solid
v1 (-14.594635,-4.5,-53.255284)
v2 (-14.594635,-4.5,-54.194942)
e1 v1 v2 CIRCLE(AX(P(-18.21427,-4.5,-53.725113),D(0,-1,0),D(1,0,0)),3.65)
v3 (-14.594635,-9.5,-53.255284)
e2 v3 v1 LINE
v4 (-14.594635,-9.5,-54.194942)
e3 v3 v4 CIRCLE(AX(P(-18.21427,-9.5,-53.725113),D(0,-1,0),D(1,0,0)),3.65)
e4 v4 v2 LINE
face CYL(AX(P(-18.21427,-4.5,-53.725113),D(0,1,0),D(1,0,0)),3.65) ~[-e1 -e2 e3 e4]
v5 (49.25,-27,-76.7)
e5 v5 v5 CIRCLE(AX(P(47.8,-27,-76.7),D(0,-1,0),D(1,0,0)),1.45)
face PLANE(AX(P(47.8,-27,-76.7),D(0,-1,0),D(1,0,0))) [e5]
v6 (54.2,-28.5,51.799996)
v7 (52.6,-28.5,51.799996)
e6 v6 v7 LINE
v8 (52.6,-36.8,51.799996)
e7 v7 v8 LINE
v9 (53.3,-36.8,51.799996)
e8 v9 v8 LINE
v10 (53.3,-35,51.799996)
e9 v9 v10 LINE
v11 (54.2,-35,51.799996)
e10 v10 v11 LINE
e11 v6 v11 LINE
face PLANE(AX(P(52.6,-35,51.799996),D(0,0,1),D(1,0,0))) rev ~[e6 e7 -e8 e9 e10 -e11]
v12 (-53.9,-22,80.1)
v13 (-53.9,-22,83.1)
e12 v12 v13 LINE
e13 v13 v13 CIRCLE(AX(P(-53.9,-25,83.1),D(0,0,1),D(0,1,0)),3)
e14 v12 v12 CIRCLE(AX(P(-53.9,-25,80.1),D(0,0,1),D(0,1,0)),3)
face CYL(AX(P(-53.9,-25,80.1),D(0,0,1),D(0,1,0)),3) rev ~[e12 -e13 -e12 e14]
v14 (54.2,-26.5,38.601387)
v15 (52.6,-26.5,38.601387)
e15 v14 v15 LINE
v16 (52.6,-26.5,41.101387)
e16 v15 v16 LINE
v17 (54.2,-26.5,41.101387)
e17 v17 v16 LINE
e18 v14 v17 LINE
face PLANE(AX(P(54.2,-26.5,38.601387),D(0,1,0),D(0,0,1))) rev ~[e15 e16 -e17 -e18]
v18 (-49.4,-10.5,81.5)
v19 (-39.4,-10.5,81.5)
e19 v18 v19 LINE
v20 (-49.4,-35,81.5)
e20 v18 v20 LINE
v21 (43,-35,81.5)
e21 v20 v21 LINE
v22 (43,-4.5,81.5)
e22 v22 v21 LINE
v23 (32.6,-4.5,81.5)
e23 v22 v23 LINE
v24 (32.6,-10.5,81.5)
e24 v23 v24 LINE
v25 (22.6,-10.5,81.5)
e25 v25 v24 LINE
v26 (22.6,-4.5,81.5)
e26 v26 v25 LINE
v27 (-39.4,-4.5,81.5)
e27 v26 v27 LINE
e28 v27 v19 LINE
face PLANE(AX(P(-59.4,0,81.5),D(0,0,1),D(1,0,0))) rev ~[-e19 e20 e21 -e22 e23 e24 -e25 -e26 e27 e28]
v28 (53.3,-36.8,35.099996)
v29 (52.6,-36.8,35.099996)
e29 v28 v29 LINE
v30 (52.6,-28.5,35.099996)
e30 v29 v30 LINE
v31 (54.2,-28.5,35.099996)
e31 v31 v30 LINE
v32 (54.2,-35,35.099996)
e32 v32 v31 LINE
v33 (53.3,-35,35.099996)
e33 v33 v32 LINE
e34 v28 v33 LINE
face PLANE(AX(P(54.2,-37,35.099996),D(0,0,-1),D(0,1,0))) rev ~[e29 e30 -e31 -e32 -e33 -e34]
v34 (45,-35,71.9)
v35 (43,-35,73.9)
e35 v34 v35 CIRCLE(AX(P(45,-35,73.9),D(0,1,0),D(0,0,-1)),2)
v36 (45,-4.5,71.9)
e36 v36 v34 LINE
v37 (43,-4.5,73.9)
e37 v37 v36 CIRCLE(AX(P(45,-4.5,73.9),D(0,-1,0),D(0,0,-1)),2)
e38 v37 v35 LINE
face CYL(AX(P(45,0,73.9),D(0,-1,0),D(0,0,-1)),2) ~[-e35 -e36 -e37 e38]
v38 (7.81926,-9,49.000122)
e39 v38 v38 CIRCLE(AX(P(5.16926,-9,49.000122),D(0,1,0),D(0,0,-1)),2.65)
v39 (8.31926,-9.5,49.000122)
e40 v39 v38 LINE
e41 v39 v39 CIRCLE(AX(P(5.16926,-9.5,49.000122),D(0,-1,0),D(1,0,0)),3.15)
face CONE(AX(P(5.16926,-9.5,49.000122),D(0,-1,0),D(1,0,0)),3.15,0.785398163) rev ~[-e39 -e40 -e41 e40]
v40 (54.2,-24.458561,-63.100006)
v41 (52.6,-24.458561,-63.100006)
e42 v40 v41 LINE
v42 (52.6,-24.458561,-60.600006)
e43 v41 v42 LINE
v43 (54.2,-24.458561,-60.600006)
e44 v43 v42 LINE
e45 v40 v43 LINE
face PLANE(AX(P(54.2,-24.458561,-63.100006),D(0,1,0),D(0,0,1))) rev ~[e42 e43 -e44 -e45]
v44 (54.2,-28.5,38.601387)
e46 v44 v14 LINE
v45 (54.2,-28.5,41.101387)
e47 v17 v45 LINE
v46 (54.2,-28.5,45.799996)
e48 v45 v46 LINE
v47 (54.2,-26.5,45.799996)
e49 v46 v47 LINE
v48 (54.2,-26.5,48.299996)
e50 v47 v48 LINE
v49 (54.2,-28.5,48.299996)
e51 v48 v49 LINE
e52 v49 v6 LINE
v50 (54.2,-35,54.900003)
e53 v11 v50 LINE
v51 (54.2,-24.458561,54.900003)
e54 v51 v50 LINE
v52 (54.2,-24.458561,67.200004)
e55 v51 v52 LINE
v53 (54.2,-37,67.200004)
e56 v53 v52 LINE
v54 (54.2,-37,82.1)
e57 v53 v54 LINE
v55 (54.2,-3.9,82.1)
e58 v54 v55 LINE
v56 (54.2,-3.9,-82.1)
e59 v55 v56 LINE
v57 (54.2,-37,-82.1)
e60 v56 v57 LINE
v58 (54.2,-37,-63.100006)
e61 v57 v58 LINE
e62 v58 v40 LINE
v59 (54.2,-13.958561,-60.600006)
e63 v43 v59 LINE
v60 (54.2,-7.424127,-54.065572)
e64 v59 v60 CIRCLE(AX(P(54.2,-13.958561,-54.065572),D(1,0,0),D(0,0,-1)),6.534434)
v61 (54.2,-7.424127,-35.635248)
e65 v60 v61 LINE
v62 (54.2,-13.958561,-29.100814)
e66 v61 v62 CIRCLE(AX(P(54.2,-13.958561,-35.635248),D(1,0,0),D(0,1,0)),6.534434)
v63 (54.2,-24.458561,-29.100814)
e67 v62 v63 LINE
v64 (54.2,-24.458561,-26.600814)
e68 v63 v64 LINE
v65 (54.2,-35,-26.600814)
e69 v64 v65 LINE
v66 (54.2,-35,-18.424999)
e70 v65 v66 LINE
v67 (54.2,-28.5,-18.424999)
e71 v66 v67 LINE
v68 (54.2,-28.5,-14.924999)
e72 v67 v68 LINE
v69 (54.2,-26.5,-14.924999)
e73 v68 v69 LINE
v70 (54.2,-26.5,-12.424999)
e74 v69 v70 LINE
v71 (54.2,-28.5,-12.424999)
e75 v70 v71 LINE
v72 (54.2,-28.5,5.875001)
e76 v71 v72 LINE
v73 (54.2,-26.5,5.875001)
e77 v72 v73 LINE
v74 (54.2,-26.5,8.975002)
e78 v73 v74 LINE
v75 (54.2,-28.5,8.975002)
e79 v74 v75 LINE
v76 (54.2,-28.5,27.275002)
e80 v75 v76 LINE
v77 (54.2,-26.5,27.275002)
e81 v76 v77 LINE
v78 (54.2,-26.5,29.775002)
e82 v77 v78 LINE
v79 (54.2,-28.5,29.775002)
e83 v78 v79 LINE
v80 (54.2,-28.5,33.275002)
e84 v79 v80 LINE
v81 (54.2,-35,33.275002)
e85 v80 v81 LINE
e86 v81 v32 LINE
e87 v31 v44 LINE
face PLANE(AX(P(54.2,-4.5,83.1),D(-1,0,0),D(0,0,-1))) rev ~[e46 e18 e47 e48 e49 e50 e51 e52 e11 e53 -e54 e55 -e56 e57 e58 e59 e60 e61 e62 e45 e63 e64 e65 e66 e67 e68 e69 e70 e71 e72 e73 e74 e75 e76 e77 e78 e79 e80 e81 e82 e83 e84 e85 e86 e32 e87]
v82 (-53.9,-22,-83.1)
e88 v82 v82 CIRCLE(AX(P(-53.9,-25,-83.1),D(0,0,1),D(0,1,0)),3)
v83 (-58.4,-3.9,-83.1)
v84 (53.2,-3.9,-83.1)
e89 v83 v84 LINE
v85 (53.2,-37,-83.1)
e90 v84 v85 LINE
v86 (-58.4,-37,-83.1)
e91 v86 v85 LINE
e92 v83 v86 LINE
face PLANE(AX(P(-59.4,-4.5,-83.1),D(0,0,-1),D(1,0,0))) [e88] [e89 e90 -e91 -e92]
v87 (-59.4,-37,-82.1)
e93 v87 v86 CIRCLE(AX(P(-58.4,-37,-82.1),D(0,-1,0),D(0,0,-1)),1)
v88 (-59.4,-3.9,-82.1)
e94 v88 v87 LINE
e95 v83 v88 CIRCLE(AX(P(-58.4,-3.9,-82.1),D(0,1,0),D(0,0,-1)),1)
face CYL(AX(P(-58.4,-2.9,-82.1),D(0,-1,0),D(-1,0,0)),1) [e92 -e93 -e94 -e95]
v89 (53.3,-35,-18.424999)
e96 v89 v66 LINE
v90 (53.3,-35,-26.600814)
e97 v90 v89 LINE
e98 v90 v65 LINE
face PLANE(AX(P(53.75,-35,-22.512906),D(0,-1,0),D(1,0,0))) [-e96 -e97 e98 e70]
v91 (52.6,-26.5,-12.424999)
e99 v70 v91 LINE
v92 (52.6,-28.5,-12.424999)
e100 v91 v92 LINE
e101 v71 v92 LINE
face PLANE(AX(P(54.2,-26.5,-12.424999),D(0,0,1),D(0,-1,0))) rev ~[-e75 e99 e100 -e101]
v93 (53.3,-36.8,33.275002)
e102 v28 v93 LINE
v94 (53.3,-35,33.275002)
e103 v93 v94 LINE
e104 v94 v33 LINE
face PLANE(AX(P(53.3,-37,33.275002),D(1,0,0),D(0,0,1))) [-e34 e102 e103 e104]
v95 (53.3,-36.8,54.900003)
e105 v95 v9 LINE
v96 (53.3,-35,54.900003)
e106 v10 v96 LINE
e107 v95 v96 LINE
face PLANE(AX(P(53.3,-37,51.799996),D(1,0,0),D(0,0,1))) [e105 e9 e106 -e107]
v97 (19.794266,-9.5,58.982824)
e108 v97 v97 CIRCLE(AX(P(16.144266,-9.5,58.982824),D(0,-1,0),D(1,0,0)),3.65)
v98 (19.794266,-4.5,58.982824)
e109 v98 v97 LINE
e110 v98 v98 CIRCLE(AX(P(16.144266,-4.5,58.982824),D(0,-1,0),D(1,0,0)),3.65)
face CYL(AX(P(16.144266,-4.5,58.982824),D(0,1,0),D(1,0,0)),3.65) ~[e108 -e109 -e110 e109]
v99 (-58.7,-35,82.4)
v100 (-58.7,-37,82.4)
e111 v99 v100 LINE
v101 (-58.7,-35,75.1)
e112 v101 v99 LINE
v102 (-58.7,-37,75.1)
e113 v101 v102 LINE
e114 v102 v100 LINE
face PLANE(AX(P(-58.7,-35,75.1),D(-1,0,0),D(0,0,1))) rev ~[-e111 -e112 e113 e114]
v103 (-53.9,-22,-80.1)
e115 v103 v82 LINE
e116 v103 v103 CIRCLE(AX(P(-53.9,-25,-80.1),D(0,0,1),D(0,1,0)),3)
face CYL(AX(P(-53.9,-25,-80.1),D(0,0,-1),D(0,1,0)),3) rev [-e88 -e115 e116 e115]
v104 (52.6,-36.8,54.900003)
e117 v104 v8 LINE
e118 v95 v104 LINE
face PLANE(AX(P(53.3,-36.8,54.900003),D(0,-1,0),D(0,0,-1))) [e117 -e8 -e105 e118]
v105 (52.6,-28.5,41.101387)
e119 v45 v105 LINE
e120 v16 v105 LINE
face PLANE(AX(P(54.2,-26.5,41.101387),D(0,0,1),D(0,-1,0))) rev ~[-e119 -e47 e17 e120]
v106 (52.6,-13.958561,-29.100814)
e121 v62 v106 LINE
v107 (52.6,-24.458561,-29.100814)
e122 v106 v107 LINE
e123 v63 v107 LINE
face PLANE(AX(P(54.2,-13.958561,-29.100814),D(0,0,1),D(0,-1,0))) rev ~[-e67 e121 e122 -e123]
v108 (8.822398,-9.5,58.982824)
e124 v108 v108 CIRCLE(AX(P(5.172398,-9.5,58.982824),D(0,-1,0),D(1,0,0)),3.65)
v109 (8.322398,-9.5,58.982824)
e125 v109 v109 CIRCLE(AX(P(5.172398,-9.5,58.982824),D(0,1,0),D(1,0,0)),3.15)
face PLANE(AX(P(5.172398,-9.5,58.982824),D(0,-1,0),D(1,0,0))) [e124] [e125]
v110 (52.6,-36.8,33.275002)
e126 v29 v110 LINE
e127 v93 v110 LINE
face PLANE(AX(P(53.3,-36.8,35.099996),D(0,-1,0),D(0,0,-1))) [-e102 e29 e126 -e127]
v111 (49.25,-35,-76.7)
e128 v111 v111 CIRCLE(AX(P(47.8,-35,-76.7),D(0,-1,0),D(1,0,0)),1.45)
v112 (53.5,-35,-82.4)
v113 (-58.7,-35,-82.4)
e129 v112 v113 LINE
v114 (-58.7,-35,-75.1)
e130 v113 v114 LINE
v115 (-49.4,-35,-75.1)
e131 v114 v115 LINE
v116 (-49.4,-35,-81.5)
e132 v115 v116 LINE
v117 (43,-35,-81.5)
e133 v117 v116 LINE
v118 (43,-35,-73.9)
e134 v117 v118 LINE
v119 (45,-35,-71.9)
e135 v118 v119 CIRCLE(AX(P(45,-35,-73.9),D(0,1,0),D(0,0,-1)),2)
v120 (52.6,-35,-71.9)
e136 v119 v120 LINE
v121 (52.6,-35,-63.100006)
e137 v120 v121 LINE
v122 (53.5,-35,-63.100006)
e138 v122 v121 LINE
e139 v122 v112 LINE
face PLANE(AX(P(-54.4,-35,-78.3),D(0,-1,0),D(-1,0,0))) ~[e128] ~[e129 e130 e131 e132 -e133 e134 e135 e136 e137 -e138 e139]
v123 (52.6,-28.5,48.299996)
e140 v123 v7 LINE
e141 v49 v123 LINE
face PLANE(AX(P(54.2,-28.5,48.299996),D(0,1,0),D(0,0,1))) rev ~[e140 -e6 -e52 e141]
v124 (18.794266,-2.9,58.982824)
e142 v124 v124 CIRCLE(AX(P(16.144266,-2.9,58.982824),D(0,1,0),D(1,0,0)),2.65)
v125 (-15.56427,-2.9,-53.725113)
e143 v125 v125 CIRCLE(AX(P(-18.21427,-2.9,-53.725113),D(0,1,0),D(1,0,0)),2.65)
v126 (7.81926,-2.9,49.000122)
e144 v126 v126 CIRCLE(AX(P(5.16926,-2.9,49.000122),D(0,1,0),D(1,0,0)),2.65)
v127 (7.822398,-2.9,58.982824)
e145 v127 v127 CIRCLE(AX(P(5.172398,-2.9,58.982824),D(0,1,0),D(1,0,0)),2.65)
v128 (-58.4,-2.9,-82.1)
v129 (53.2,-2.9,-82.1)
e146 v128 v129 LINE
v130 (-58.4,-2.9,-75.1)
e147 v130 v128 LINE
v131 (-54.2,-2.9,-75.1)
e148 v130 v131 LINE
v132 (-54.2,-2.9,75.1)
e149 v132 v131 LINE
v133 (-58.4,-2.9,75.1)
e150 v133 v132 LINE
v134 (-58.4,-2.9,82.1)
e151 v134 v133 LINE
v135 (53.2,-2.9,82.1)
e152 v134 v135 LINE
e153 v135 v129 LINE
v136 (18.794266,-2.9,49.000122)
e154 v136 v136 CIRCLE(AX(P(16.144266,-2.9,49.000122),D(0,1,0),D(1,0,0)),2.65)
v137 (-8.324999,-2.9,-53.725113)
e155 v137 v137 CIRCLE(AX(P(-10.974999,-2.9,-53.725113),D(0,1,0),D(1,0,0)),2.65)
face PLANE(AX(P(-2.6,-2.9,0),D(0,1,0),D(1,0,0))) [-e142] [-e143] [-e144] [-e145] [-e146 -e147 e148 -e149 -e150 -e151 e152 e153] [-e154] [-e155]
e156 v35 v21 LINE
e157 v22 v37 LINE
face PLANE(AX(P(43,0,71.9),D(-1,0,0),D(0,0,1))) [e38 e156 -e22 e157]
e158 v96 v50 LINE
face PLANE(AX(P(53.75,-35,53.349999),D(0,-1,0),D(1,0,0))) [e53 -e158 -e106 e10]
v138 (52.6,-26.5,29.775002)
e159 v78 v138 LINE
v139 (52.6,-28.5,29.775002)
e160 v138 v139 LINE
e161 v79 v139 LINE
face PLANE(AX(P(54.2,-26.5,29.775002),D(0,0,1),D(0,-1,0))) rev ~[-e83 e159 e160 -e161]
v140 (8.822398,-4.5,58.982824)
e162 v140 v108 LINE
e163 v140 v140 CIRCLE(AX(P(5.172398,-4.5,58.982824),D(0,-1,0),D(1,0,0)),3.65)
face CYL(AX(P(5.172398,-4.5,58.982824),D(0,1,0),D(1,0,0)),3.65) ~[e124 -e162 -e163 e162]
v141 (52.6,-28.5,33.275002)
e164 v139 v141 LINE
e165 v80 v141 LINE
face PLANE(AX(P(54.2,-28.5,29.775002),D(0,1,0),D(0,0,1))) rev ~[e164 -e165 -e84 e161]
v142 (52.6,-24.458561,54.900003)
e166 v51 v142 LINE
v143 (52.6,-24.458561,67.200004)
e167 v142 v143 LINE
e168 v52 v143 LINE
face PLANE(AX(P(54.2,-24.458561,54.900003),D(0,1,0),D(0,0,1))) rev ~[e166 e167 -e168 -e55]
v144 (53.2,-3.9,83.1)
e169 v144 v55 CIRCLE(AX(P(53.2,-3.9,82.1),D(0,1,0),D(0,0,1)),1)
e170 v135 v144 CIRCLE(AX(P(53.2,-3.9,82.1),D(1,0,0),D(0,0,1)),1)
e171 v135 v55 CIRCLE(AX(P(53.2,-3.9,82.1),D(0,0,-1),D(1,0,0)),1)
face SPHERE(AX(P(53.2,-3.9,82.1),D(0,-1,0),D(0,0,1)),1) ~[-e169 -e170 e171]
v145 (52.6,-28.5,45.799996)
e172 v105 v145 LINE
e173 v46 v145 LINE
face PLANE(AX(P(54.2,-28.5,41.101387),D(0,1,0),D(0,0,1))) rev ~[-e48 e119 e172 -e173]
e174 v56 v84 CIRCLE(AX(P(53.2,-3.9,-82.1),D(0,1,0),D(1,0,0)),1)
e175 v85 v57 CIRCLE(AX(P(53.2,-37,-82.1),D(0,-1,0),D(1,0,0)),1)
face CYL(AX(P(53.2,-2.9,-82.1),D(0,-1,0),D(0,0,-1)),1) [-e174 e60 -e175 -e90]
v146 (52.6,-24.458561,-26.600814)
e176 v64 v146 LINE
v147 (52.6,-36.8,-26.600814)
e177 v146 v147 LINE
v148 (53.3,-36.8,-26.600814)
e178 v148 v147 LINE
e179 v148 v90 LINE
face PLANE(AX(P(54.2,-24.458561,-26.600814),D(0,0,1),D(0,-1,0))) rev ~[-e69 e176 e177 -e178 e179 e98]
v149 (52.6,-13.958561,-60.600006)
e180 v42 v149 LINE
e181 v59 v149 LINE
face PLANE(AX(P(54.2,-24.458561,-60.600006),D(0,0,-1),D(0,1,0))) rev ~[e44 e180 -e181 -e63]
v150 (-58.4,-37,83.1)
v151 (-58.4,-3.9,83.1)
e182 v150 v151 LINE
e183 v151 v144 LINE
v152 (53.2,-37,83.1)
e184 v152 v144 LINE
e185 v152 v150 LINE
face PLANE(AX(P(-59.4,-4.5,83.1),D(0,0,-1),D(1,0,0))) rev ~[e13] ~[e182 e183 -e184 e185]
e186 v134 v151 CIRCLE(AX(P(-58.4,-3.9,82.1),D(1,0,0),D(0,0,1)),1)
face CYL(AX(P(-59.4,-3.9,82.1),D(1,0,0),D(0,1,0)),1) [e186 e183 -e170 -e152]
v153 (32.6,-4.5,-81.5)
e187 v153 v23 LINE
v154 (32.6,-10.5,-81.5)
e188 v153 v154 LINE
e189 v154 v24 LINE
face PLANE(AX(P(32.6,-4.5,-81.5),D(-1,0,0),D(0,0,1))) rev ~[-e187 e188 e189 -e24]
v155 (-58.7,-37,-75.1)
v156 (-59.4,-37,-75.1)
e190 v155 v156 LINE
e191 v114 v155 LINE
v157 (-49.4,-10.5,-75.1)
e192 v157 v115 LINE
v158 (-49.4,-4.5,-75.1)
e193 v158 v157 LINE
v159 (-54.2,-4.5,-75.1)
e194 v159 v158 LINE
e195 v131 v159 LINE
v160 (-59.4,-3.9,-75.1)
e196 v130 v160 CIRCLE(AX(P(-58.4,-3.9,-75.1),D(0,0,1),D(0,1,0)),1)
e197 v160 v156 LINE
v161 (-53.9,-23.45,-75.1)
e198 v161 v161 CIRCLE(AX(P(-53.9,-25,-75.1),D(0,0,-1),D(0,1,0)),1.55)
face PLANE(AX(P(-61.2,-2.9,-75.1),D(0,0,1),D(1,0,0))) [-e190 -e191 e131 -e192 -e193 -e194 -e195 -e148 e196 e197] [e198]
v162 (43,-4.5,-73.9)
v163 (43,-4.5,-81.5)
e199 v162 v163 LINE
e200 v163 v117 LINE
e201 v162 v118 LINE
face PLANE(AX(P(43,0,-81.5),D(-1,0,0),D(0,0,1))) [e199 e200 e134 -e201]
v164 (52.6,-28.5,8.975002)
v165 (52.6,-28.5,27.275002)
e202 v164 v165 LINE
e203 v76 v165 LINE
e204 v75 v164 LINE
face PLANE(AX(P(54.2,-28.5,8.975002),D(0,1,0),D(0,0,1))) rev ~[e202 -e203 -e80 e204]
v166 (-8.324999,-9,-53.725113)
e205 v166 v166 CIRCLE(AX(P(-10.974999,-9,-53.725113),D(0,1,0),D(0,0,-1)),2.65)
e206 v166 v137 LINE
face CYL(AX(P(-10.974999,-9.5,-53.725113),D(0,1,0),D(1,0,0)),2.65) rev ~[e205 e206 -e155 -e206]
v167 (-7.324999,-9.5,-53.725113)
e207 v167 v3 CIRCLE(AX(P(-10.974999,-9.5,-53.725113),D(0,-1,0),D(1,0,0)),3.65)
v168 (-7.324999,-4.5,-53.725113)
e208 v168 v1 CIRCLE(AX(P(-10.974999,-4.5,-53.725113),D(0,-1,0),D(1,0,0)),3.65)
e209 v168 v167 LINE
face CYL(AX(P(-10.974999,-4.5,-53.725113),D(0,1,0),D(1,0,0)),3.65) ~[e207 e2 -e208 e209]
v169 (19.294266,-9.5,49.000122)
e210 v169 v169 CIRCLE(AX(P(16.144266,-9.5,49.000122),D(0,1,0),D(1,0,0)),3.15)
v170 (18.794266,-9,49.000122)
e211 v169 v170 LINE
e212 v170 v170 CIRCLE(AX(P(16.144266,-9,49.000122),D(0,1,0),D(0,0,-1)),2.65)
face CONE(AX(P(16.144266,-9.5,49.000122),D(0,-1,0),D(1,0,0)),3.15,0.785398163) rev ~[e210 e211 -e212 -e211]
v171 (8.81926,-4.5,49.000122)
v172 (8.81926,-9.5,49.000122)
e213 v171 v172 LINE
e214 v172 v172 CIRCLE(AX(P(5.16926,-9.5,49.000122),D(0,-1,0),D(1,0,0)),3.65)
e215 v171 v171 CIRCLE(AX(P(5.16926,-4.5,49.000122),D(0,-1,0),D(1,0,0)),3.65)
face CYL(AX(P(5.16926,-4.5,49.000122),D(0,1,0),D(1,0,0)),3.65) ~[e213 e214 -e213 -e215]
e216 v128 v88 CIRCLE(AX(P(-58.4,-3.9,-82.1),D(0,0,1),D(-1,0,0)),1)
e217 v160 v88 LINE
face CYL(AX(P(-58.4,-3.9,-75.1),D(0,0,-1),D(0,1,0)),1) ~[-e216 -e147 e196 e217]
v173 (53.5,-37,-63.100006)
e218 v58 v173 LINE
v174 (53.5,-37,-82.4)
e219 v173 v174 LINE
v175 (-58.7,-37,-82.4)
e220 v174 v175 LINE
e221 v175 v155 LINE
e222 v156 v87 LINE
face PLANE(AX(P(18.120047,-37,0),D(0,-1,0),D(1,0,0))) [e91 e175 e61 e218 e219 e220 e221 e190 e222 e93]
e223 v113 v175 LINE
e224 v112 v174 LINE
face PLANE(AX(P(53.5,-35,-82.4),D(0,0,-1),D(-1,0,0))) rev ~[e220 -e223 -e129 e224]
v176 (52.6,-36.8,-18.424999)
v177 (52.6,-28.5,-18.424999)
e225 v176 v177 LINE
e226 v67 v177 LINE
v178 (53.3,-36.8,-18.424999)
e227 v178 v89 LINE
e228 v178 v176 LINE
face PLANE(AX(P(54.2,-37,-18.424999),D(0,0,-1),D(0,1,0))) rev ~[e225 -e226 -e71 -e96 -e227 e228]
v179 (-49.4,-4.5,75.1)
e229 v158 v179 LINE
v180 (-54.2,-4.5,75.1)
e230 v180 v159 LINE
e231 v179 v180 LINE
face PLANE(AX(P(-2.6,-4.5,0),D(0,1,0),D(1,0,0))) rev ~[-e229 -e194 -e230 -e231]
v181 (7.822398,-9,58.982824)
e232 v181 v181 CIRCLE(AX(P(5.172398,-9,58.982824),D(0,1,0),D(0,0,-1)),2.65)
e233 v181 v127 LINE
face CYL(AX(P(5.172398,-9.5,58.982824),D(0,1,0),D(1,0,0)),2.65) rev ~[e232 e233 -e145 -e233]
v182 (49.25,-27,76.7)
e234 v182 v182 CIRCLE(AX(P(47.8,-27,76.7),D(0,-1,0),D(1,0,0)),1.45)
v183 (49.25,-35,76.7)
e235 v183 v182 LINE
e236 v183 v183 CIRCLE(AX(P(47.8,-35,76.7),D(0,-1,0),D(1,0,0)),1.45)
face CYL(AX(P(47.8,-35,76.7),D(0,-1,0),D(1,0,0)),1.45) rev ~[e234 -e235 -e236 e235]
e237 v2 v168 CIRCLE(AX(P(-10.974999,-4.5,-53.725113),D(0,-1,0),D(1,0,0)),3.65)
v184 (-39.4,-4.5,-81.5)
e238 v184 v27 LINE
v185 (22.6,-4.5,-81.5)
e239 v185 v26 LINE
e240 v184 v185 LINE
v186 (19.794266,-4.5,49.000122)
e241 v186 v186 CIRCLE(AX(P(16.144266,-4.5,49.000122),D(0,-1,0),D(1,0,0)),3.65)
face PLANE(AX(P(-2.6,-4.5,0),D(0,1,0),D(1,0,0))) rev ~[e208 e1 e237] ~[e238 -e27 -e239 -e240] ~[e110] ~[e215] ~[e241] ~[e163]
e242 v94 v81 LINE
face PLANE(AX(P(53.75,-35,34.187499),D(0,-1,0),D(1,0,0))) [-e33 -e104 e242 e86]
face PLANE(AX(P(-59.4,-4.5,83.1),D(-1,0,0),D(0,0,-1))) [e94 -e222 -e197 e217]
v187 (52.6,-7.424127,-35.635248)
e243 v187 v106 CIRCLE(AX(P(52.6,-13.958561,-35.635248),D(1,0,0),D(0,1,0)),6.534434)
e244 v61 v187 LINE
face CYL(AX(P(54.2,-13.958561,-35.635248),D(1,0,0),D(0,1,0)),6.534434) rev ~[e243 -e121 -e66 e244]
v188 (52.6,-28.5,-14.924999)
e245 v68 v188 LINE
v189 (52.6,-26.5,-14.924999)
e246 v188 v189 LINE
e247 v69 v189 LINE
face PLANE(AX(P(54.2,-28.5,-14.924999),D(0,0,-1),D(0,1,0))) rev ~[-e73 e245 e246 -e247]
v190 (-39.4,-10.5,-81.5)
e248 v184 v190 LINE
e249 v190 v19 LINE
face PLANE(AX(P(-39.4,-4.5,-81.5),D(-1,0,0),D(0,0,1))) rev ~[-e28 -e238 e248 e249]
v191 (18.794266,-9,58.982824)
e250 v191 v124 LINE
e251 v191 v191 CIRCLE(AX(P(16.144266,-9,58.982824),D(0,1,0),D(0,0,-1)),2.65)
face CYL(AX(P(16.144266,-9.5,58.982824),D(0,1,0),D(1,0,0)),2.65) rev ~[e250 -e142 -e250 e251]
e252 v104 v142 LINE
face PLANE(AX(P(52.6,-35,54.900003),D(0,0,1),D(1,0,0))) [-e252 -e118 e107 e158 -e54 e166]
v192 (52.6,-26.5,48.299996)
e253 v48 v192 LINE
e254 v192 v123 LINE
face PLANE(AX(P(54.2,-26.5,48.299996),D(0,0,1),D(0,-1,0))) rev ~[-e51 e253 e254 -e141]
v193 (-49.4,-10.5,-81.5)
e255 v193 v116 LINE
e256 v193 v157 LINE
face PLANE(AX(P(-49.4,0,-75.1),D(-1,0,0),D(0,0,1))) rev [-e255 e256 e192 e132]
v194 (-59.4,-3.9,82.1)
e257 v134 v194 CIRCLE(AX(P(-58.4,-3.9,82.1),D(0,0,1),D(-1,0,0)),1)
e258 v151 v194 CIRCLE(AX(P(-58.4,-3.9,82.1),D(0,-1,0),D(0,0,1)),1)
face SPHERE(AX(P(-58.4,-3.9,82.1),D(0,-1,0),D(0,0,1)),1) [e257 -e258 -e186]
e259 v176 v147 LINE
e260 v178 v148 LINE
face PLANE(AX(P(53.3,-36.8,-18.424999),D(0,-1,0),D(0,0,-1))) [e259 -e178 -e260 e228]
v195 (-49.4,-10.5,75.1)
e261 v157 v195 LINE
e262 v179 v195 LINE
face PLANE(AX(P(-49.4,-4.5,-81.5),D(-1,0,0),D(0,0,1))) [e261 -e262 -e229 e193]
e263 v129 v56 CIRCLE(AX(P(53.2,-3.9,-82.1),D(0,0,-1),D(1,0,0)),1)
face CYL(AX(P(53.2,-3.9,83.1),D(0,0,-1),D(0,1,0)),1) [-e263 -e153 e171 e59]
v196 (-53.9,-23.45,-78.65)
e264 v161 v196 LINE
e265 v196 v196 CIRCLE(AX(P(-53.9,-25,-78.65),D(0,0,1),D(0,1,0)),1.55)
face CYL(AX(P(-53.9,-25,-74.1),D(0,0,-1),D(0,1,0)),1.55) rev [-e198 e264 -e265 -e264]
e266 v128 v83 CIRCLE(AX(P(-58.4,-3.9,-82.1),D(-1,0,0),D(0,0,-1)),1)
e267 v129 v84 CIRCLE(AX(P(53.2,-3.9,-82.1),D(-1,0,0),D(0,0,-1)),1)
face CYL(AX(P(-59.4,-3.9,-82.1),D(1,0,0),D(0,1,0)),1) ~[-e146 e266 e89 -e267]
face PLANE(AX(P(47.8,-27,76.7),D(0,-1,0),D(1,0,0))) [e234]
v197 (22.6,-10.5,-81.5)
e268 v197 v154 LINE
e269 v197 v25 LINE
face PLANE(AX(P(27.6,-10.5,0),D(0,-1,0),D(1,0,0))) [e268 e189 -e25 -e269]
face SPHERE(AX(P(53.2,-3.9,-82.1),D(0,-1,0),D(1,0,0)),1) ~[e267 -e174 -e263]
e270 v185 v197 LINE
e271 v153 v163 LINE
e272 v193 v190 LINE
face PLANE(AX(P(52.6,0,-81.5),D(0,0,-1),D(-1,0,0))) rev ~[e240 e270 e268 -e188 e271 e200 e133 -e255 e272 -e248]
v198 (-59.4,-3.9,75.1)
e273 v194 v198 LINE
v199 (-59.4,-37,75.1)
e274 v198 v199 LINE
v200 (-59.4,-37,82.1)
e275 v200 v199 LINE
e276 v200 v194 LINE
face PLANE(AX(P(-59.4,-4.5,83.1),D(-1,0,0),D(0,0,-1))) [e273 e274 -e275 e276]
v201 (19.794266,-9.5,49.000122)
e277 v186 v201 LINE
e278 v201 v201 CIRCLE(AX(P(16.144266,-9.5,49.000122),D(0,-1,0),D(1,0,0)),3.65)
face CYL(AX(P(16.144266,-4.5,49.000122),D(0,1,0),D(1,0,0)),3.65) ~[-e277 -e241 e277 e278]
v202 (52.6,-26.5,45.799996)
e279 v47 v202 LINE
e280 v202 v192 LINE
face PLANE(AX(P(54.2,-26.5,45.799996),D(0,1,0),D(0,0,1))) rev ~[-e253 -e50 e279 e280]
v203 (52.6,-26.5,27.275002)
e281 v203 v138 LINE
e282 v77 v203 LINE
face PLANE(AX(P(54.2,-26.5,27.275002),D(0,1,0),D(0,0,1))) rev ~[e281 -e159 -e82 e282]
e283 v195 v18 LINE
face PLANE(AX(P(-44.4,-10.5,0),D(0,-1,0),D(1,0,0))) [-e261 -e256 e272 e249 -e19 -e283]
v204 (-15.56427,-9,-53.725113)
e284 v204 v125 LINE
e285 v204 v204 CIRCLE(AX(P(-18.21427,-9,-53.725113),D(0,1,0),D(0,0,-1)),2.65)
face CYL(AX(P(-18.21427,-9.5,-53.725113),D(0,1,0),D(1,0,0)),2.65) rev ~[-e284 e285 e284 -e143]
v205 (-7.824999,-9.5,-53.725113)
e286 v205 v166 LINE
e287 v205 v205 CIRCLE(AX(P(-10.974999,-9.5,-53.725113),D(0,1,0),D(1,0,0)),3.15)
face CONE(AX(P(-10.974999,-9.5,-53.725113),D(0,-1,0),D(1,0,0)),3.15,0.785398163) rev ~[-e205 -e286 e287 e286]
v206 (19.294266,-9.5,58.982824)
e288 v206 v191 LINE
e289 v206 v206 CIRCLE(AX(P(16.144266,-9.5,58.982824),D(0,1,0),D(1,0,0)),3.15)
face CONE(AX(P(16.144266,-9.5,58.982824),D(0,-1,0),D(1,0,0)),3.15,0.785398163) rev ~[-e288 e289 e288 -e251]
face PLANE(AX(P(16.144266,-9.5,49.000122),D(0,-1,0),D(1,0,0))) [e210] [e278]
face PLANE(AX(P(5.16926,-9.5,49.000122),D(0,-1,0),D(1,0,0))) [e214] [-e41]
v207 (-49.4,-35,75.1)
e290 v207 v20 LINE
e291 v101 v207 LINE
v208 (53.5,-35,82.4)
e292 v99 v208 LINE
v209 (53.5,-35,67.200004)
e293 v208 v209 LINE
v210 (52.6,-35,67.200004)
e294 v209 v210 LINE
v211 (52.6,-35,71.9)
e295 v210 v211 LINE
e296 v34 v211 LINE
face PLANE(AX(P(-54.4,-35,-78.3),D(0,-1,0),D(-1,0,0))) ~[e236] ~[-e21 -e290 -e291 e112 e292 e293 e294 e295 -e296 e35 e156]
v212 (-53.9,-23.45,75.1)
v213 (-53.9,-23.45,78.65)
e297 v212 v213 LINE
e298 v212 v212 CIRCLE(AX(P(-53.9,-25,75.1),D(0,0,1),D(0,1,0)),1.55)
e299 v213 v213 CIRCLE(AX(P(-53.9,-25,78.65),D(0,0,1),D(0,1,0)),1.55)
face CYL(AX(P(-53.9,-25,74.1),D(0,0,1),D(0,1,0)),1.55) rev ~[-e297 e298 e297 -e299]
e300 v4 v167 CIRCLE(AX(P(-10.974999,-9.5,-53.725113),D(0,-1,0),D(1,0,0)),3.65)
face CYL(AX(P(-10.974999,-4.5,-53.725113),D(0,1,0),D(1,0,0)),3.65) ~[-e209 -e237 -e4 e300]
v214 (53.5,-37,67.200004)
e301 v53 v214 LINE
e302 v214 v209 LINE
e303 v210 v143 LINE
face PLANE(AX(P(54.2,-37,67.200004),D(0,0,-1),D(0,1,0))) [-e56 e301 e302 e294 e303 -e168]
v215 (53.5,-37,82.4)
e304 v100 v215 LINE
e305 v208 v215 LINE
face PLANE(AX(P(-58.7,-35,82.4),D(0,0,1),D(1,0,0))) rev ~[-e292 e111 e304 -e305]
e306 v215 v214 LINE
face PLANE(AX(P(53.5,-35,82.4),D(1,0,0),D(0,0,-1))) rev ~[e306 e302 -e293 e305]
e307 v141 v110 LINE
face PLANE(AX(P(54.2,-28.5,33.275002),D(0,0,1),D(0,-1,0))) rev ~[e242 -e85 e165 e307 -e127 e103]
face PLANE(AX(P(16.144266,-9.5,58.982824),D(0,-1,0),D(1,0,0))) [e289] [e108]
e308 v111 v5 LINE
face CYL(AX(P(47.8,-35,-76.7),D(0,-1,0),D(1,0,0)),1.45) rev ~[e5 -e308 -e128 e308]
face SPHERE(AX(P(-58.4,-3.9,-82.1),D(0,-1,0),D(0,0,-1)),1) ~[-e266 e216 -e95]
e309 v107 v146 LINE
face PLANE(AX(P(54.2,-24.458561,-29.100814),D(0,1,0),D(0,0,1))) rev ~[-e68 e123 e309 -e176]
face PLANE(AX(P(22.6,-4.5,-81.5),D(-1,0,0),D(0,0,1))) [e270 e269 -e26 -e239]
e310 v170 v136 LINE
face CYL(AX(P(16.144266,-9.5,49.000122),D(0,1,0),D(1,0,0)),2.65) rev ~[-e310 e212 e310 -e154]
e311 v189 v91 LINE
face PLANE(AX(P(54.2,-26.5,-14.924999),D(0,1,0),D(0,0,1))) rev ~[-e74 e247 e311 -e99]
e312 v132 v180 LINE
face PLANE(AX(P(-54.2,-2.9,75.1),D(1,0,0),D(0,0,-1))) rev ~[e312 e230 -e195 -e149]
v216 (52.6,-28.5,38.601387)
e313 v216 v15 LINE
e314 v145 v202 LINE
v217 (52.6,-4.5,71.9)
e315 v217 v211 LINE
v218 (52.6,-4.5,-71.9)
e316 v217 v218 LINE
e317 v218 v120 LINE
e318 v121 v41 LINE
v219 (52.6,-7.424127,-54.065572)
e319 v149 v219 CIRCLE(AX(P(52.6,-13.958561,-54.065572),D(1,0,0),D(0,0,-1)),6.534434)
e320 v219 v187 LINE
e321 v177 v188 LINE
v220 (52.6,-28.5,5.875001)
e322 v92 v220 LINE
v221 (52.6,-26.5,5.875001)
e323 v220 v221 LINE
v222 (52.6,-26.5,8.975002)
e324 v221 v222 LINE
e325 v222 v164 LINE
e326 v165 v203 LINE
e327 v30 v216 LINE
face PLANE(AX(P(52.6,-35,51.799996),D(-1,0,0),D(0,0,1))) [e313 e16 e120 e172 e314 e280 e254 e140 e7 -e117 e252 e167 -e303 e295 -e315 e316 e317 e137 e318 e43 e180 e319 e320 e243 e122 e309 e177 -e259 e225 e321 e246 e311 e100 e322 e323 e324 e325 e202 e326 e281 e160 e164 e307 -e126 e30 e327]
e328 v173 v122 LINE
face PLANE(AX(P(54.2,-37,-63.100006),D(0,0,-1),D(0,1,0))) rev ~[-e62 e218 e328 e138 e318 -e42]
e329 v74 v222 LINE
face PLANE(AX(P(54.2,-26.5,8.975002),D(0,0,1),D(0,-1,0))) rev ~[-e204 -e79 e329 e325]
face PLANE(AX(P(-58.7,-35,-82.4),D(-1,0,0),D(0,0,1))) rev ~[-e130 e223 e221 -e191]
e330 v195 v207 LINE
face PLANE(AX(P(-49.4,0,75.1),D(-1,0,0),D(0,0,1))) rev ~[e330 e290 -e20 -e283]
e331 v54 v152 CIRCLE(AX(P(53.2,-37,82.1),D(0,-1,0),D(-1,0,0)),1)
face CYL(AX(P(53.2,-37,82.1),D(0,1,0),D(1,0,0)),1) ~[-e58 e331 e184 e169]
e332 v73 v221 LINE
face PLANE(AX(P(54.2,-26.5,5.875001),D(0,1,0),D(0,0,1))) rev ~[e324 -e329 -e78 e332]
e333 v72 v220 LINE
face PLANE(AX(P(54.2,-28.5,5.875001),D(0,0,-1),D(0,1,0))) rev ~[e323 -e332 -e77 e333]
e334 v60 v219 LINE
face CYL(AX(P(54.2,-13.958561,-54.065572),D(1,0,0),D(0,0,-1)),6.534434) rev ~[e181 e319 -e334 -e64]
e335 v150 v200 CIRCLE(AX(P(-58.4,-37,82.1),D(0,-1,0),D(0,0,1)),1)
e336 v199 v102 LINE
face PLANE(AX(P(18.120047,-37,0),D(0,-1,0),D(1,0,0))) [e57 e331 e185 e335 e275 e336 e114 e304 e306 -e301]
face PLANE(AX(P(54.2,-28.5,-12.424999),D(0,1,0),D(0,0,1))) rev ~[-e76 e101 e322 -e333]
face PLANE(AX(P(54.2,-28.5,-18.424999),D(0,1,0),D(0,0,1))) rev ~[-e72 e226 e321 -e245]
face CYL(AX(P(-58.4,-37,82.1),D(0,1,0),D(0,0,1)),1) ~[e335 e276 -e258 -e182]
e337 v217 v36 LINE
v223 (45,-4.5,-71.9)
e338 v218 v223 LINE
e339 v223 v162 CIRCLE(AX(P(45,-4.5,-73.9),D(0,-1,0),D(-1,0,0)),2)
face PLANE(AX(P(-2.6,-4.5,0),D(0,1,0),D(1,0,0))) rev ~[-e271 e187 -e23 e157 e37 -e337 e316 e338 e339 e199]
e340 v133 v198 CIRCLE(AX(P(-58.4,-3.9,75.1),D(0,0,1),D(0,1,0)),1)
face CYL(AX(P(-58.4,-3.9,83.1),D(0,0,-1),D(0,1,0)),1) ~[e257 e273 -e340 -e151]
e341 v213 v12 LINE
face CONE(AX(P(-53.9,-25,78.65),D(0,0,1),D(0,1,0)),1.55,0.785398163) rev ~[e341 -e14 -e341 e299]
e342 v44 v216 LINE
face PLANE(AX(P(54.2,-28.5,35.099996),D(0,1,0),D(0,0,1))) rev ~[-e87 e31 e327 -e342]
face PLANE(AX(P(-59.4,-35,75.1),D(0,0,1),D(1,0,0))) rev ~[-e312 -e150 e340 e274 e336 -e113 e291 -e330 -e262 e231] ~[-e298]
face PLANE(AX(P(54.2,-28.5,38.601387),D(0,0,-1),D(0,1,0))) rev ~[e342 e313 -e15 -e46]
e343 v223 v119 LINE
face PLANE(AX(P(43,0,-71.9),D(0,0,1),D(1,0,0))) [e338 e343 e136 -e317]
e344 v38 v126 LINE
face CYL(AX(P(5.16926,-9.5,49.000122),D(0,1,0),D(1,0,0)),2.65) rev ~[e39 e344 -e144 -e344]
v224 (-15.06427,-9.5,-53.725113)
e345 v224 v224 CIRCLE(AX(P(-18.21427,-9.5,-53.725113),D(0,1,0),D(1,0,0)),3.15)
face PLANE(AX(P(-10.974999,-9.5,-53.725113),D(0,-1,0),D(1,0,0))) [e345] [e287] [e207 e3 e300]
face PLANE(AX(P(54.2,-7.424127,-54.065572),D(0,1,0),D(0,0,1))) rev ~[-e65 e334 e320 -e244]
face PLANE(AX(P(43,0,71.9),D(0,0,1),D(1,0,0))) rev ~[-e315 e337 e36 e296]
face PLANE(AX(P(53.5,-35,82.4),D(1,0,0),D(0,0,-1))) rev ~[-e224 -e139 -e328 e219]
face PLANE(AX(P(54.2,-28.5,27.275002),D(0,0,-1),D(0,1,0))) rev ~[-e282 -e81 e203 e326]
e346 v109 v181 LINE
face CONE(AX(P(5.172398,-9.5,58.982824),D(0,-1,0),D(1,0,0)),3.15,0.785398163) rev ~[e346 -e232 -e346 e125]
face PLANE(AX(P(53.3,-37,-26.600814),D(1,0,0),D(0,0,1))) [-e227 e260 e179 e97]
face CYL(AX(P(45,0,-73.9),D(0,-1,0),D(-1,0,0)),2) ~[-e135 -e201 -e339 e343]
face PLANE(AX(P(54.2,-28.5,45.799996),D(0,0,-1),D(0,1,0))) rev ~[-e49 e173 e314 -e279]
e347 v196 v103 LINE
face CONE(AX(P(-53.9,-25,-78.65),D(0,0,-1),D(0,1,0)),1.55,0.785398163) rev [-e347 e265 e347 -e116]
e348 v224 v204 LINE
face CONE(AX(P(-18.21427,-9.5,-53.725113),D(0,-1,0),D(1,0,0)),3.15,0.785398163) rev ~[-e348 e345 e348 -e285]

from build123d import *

# Parameters (mm, degrees)
EXTRUDE_2_DEPTH           = 35
SKETCH_3_W                = 9.6
SKETCH_3_H                = 9.6
EXTRUDE_3_DEPTH           = 35
SKETCH_8_W                = 10
SKETCH_8_H                = 6.4
EXTRUDE_4_DEPTH           = 35
EXTRUDE_5_DEPTH           = 2
FILLET_1_R                = 2
SKETCH_11_R               = 1.45
CUT_EXTRUDE_7_DEPTH       = 8
CUT_EXTRUDE_17_DEPTH      = 1.6
SKETCH_77_W               = 0.9
SKETCH_77_H               = 3.100006964
SKETCH_77_H_2             = 1.824993516
SKETCH_77_H_3             = 8.175815104
EXTRUDE_15_DEPTH          = 2
SKETCH_78_W               = 0.9
SKETCH_78_H               = 1.824993516
SKETCH_78_H_2             = 8.175815104
SKETCH_78_H_3             = 3.100006964
CUT_EXTRUDE_20_DEPTH      = 2
SKETCH_79_W               = 3.100006964
SKETCH_79_H               = 0.2
SKETCH_79_W_2             = 1.824993516
SKETCH_79_W_3             = 8.175815104
CUT_EXTRUDE_21_DEPTH      = 0.7
CUT_EXTRUDE_18_DEPTH      = 4.5
SKETCH_32_W               = 113.6
SKETCH_32_H               = 166.2
EXTRUDE_6_DEPTH           = 1.6
SKETCH_33_W               = 7
SKETCH_33_H               = 150.2
CUT_EXTRUDE_19_DEPTH      = 1.6
SKETCH_35_R               = 3.65
EXTRUDE_7_DEPTH           = 5
HOLE_WIZARD_3_D           = 5.3
HOLE_WIZARD_3_CSINK_D     = 6.3
HOLE_WIZARD_3_CSINK_ANGLE = 90
SKETCH_48_R               = 3.65
EXTRUDE_8_DEPTH           = 5
SKETCH_53_R               = 3.65
EXTRUDE_9_DEPTH           = 5
SKETCH_59_R               = 3.65
EXTRUDE_12_DEPTH          = 5
SKETCH_64_R               = 3.65
EXTRUDE_13_DEPTH          = 5
SKETCH_72_R               = 3.65
EXTRUDE_14_DEPTH          = 5
HOLE_WIZARD_5_D           = 5.3
HOLE_WIZARD_5_CSINK_D     = 6.3
HOLE_WIZARD_5_CSINK_ANGLE = 90
FILLET_2_R                = 1
SKETCH_81_W               = 10
SKETCH_81_H               = 163
EXTRUDE_16_DEPTH          = 6


with BuildPart() as part:
    # Эскиз2 → Бобышка-Вытянуть2 (new body)
    with BuildSketch(Plane.XZ):
        Polygon((-54.2, 83.1), (54.2, 83.1), (54.2, -83.1), (-54.2, -83.1), (-59.4, -83.1), (-59.4, -81.5), (-54.2, -81.5), (52.6, -81.5), (52.6, 81.5), (-54.2, 81.5), (-59.4, 81.5), (-59.4, 83.1), align=None)
    extrude(amount=EXTRUDE_2_DEPTH)

    # Эскиз3 → Бобышка-Вытянуть3 (add)
    with BuildSketch(Plane.XZ):
        with Locations((47.8, 76.7)):
            Rectangle(SKETCH_3_W, SKETCH_3_H)
        with Locations((47.8, -76.7)):
            Rectangle(SKETCH_3_W, SKETCH_3_H)
    extrude(amount=EXTRUDE_3_DEPTH)

    # Эскиз8 → Бобышка-Вытянуть4 (add)
    with BuildSketch(Plane.XZ):
        with Locations((-54.4, 78.3)):
            Rectangle(SKETCH_8_W, SKETCH_8_H)
    extrude_4 = extrude(amount=EXTRUDE_4_DEPTH)

    # Зеркальное отражение1: Бобышка-Вытянуть4 across plane
    add(extrude_4.mirror(Plane.XY))

    # Эскиз10 → Бобышка-Вытянуть5 (add)
    with BuildSketch(Plane.XZ.offset(35)):
        Polygon((-59.4, 83.1), (-59.4, 75.1), (-58.7, 75.1), (-58.7, 82.4), (53.5, 82.4), (53.5, -82.4), (-58.7, -82.4), (-58.7, -75.1), (-59.4, -75.1), (-59.4, -83.1), (54.2, -83.1), (54.2, 83.1), align=None)
    extrude(amount=EXTRUDE_5_DEPTH)

    # Эскиз69 → Отверстие2 (revolve, cut)
    with BuildSketch(Plane(origin=(-53.9, -25, -83.1), x_dir=(0, 1, 0), z_dir=(1, 0, 0))):
        Polygon((0, 0), (0, 9), (1.55, 9), (1.55, 4.45), (3, 3), (3, 0), align=None)
    hole_wizard_2 = revolve(axis=Axis((-53.9, -25, -89.230023899), (0, 0, 1)), mode=Mode.SUBTRACT)

    # Зеркальное отражение2: Отверстие2 across plane
    add(hole_wizard_2.mirror(Plane.XY), mode=Mode.SUBTRACT)

    # Скругление1
    fillet_1_edges = [part.edges().sort_by_distance(p)[0] for p in [
        (43, -17.5, 71.9),
        (43, -17.5, -71.9),
    ]]
    fillet(fillet_1_edges, radius=FILLET_1_R)

    # Эскиз11 → Вырез-Вытянуть7 (cut)
    with BuildSketch(Plane.XZ.offset(35)):
        with Locations((47.8, 76.7)):
            Circle(SKETCH_11_R)
        with Locations((47.8, -76.7)):
            Circle(SKETCH_11_R)
    extrude(amount=-CUT_EXTRUDE_7_DEPTH, mode=Mode.SUBTRACT)

    # Эскиз24 → Вырез-Вытянуть17 (cut)
    with BuildSketch(Plane(origin=(54.2, 0, 0), x_dir=(0, 0, -1), z_dir=(1, 0, 0))):
        Polygon((-67.115753945, -24.45856124), (-54.915753678, -24.45856124), (-54.900002552, -24.45856124), (-54.900002552, -37), (-54.950002552, -37), (-67.200003552, -37), (-67.200003552, -24.45856124), align=None)
        with BuildLine():
            Line((26.600813792, -24.458561201), (26.600813792, -37))
            Line((26.600813792, -37), (63.100006082, -37))
            Line((63.100006082, -37), (63.100006082, -24.458561201))
            Line((63.100006082, -24.458561201), (60.600006082, -24.458561201))
            Line((60.600006082, -24.458561201), (60.600006082, -13.958561201))
            ThreePointArc((60.600006082, -13.958561201), (58.686114673, -9.338018606), (54.065572078, -7.424127197))
            Line((54.065572078, -7.424127197), (35.635247795, -7.424127197))
            ThreePointArc((35.635247795, -7.424127197), (31.0147052, -9.338018606), (29.100813792, -13.958561201))
            Line((29.100813792, -13.958561201), (29.100813792, -24.458561201))
            Line((29.100813792, -24.458561201), (26.600813792, -24.458561201))
        make_face()
        Polygon((-33.275002252, -37), (18.424998688, -37), (18.424998688, -28.5), (14.924998688, -28.5), (14.924998688, -26.5), (12.424998688, -26.5), (12.424998688, -28.5), (-5.875001312, -28.5), (-5.875001312, -26.5), (-8.975002252, -26.5), (-8.975002252, -28.5), (-27.275002252, -28.5), (-27.275002252, -26.5), (-29.775002252, -26.5), (-29.775002252, -28.5), (-33.275002252, -28.5), align=None)
        Polygon((-51.799995588, -37), (-35.099995768, -37), (-35.099995768, -28.5), (-38.601386518, -28.5), (-38.601386518, -26.5), (-41.101386518, -26.5), (-41.101386518, -28.5), (-45.799995588, -28.5), (-45.799995588, -26.5), (-48.299995588, -26.5), (-48.299995588, -28.5), (-51.799995588, -28.5), align=None)
    extrude(amount=-CUT_EXTRUDE_17_DEPTH, mode=Mode.SUBTRACT)

    # Эскиз77 → Бобышка-Вытянуть15 (add)
    with BuildSketch(Plane.XZ.offset(35)):
        with Locations((53.05, 53.34999907)):
            Rectangle(SKETCH_77_W, SKETCH_77_H)
        with Locations((53.05, 34.18749901)):
            Rectangle(SKETCH_77_W, SKETCH_77_H_2)
        with Locations((53.05, -22.51290624)):
            Rectangle(SKETCH_77_W, SKETCH_77_H_3)
    extrude(amount=EXTRUDE_15_DEPTH)

    # Эскиз78 → Вырез-Вытянуть20 (cut)
    with BuildSketch(Plane.XZ.offset(37)):
        with Locations((53.75, 34.18749901)):
            Rectangle(SKETCH_78_W, SKETCH_78_H)
        with Locations((53.75, -22.51290624)):
            Rectangle(SKETCH_78_W, SKETCH_78_H_2)
        with Locations((53.75, 53.34999907)):
            Rectangle(SKETCH_78_W, SKETCH_78_H_3)
    extrude(amount=-CUT_EXTRUDE_20_DEPTH, mode=Mode.SUBTRACT)

    # Эскиз79 → Вырез-Вытянуть21 (cut)
    with BuildSketch(Plane(origin=(53.3, 0, 0), x_dir=(0, 0, -1), z_dir=(1, 0, 0))):
        with Locations((-53.34999907, -36.9)):
            Rectangle(SKETCH_79_W, SKETCH_79_H)
        with Locations((-34.18749901, -36.9)):
            Rectangle(SKETCH_79_W_2, SKETCH_79_H)
        with Locations((22.51290624, -36.9)):
            Rectangle(SKETCH_79_W_3, SKETCH_79_H)
    extrude(amount=-CUT_EXTRUDE_21_DEPTH, mode=Mode.SUBTRACT)

    # Эскиз1 → Вырез-Вытянуть18 (cut)
    with BuildSketch(Plane(origin=(0, 0, 0), x_dir=(1, 0, 0), z_dir=(0, 1, 0))):
        Polygon((-54.2, 83.1), (-61.2, 83.1), (-61.2, -83.1), (-54.2, -83.1), (54.2, -83.1), (54.2, 83.1), align=None)
    extrude(amount=-CUT_EXTRUDE_18_DEPTH, mode=Mode.SUBTRACT)

    # Эскиз32 → Бобышка-Вытянуть6 (add)
    with BuildSketch(Plane(origin=(0, -4.5, 0), x_dir=(1, 0, 0), z_dir=(0, 1, 0))):
        with Locations((-2.6, 0)):
            Rectangle(SKETCH_32_W, SKETCH_32_H)
    extrude(amount=EXTRUDE_6_DEPTH)

    # Эскиз33 → Вырез-Вытянуть19 (cut)
    with BuildSketch(Plane(origin=(0, -2.9, 0), x_dir=(1, 0, 0), z_dir=(0, 1, 0))):
        with Locations((-57.7, 0)):
            Rectangle(SKETCH_33_W, SKETCH_33_H)
    extrude(amount=-CUT_EXTRUDE_19_DEPTH, mode=Mode.SUBTRACT)

    # Эскиз35 → Бобышка-Вытянуть7 (add)
    with BuildSketch(Plane.XZ.offset(4.5)):
        with Locations((5.169259644, 49.00012207)):
            Circle(SKETCH_35_R)
    extrude(amount=EXTRUDE_7_DEPTH)

    # Отверстие3 (through all)
    with Locations(Plane(origin=(0, -9.5, 0), x_dir=(-1, 0, 0), z_dir=(0, -1, 0))):
        with Locations((-5.169259644, -49.00012207)):
            CounterSinkHole(HOLE_WIZARD_3_D / 2, HOLE_WIZARD_3_CSINK_D / 2, counter_sink_angle=HOLE_WIZARD_3_CSINK_ANGLE)

    # Эскиз48 → Бобышка-Вытянуть8 (add)
    with BuildSketch(Plane.XZ.offset(4.5)):
        with Locations((-18.21427002, -53.725112916)):
            Circle(SKETCH_48_R)
    extrude(amount=EXTRUDE_8_DEPTH)

    # Эскиз53 → Бобышка-Вытянуть9 (add)
    with BuildSketch(Plane.XZ.offset(4.5)):
        with Locations((16.144265744, 49.00012207)):
            Circle(SKETCH_53_R)
    extrude(amount=EXTRUDE_9_DEPTH)

    # Эскиз59 → Бобышка-Вытянуть12 (add)
    with BuildSketch(Plane.XZ.offset(4.5)):
        with Locations((-10.9749991, -53.725112916)):
            Circle(SKETCH_59_R)
    extrude(amount=EXTRUDE_12_DEPTH)

    # Эскиз64 → Бобышка-Вытянуть13 (add)
    with BuildSketch(Plane.XZ.offset(4.5)):
        with Locations((5.172398423, 58.982823693)):
            Circle(SKETCH_64_R)
    extrude(amount=EXTRUDE_13_DEPTH)

    # Эскиз72 → Бобышка-Вытянуть14 (add)
    with BuildSketch(Plane.XZ.offset(4.5)):
        with Locations((16.144265744, 58.982823693)):
            Circle(SKETCH_72_R)
    extrude(amount=EXTRUDE_14_DEPTH)

    # Отверстие5 (through all)
    with Locations(Plane(origin=(0, -9.5, 0), x_dir=(-1, 0, 0), z_dir=(0, -1, 0))):
        with Locations((-16.144265744, -58.982823693), (-16.144265744, -49.00012207), (-5.172398423, -58.982823693), (10.9749991, 53.725112916), (18.21427002, 53.725112916)):
            CounterSinkHole(HOLE_WIZARD_5_D / 2, HOLE_WIZARD_5_CSINK_D / 2, counter_sink_angle=HOLE_WIZARD_5_CSINK_ANGLE)

    # Скругление2
    fillet_2_edges = [part.edges().sort_by_distance(p)[0] for p in [
        (54.2, -19.95, 83.1),
        (54.2, -19.95, -83.1),
        (-59.4, -19.95, -83.1),
        (-59.4, -19.95, 83.1),
        (-2.6, -2.9, 83.1),
        (54.2, -2.9, 0),
        (-2.6, -2.9, -83.1),
        (-59.4, -2.9, -79.1),
        (-59.4, -2.9, 79.1),
    ]]
    fillet(fillet_2_edges, radius=FILLET_2_R)

    # Эскиз81 → Бобышка-Вытянуть16 (add)
    with BuildSketch(Plane.XZ.offset(4.5)):
        with Locations((27.6, 0)):
            Rectangle(SKETCH_81_W, SKETCH_81_H)
        with Locations((-44.4, 0)):
            Rectangle(SKETCH_81_W, SKETCH_81_H)
    extrude(amount=EXTRUDE_16_DEPTH)


solid = part.part
